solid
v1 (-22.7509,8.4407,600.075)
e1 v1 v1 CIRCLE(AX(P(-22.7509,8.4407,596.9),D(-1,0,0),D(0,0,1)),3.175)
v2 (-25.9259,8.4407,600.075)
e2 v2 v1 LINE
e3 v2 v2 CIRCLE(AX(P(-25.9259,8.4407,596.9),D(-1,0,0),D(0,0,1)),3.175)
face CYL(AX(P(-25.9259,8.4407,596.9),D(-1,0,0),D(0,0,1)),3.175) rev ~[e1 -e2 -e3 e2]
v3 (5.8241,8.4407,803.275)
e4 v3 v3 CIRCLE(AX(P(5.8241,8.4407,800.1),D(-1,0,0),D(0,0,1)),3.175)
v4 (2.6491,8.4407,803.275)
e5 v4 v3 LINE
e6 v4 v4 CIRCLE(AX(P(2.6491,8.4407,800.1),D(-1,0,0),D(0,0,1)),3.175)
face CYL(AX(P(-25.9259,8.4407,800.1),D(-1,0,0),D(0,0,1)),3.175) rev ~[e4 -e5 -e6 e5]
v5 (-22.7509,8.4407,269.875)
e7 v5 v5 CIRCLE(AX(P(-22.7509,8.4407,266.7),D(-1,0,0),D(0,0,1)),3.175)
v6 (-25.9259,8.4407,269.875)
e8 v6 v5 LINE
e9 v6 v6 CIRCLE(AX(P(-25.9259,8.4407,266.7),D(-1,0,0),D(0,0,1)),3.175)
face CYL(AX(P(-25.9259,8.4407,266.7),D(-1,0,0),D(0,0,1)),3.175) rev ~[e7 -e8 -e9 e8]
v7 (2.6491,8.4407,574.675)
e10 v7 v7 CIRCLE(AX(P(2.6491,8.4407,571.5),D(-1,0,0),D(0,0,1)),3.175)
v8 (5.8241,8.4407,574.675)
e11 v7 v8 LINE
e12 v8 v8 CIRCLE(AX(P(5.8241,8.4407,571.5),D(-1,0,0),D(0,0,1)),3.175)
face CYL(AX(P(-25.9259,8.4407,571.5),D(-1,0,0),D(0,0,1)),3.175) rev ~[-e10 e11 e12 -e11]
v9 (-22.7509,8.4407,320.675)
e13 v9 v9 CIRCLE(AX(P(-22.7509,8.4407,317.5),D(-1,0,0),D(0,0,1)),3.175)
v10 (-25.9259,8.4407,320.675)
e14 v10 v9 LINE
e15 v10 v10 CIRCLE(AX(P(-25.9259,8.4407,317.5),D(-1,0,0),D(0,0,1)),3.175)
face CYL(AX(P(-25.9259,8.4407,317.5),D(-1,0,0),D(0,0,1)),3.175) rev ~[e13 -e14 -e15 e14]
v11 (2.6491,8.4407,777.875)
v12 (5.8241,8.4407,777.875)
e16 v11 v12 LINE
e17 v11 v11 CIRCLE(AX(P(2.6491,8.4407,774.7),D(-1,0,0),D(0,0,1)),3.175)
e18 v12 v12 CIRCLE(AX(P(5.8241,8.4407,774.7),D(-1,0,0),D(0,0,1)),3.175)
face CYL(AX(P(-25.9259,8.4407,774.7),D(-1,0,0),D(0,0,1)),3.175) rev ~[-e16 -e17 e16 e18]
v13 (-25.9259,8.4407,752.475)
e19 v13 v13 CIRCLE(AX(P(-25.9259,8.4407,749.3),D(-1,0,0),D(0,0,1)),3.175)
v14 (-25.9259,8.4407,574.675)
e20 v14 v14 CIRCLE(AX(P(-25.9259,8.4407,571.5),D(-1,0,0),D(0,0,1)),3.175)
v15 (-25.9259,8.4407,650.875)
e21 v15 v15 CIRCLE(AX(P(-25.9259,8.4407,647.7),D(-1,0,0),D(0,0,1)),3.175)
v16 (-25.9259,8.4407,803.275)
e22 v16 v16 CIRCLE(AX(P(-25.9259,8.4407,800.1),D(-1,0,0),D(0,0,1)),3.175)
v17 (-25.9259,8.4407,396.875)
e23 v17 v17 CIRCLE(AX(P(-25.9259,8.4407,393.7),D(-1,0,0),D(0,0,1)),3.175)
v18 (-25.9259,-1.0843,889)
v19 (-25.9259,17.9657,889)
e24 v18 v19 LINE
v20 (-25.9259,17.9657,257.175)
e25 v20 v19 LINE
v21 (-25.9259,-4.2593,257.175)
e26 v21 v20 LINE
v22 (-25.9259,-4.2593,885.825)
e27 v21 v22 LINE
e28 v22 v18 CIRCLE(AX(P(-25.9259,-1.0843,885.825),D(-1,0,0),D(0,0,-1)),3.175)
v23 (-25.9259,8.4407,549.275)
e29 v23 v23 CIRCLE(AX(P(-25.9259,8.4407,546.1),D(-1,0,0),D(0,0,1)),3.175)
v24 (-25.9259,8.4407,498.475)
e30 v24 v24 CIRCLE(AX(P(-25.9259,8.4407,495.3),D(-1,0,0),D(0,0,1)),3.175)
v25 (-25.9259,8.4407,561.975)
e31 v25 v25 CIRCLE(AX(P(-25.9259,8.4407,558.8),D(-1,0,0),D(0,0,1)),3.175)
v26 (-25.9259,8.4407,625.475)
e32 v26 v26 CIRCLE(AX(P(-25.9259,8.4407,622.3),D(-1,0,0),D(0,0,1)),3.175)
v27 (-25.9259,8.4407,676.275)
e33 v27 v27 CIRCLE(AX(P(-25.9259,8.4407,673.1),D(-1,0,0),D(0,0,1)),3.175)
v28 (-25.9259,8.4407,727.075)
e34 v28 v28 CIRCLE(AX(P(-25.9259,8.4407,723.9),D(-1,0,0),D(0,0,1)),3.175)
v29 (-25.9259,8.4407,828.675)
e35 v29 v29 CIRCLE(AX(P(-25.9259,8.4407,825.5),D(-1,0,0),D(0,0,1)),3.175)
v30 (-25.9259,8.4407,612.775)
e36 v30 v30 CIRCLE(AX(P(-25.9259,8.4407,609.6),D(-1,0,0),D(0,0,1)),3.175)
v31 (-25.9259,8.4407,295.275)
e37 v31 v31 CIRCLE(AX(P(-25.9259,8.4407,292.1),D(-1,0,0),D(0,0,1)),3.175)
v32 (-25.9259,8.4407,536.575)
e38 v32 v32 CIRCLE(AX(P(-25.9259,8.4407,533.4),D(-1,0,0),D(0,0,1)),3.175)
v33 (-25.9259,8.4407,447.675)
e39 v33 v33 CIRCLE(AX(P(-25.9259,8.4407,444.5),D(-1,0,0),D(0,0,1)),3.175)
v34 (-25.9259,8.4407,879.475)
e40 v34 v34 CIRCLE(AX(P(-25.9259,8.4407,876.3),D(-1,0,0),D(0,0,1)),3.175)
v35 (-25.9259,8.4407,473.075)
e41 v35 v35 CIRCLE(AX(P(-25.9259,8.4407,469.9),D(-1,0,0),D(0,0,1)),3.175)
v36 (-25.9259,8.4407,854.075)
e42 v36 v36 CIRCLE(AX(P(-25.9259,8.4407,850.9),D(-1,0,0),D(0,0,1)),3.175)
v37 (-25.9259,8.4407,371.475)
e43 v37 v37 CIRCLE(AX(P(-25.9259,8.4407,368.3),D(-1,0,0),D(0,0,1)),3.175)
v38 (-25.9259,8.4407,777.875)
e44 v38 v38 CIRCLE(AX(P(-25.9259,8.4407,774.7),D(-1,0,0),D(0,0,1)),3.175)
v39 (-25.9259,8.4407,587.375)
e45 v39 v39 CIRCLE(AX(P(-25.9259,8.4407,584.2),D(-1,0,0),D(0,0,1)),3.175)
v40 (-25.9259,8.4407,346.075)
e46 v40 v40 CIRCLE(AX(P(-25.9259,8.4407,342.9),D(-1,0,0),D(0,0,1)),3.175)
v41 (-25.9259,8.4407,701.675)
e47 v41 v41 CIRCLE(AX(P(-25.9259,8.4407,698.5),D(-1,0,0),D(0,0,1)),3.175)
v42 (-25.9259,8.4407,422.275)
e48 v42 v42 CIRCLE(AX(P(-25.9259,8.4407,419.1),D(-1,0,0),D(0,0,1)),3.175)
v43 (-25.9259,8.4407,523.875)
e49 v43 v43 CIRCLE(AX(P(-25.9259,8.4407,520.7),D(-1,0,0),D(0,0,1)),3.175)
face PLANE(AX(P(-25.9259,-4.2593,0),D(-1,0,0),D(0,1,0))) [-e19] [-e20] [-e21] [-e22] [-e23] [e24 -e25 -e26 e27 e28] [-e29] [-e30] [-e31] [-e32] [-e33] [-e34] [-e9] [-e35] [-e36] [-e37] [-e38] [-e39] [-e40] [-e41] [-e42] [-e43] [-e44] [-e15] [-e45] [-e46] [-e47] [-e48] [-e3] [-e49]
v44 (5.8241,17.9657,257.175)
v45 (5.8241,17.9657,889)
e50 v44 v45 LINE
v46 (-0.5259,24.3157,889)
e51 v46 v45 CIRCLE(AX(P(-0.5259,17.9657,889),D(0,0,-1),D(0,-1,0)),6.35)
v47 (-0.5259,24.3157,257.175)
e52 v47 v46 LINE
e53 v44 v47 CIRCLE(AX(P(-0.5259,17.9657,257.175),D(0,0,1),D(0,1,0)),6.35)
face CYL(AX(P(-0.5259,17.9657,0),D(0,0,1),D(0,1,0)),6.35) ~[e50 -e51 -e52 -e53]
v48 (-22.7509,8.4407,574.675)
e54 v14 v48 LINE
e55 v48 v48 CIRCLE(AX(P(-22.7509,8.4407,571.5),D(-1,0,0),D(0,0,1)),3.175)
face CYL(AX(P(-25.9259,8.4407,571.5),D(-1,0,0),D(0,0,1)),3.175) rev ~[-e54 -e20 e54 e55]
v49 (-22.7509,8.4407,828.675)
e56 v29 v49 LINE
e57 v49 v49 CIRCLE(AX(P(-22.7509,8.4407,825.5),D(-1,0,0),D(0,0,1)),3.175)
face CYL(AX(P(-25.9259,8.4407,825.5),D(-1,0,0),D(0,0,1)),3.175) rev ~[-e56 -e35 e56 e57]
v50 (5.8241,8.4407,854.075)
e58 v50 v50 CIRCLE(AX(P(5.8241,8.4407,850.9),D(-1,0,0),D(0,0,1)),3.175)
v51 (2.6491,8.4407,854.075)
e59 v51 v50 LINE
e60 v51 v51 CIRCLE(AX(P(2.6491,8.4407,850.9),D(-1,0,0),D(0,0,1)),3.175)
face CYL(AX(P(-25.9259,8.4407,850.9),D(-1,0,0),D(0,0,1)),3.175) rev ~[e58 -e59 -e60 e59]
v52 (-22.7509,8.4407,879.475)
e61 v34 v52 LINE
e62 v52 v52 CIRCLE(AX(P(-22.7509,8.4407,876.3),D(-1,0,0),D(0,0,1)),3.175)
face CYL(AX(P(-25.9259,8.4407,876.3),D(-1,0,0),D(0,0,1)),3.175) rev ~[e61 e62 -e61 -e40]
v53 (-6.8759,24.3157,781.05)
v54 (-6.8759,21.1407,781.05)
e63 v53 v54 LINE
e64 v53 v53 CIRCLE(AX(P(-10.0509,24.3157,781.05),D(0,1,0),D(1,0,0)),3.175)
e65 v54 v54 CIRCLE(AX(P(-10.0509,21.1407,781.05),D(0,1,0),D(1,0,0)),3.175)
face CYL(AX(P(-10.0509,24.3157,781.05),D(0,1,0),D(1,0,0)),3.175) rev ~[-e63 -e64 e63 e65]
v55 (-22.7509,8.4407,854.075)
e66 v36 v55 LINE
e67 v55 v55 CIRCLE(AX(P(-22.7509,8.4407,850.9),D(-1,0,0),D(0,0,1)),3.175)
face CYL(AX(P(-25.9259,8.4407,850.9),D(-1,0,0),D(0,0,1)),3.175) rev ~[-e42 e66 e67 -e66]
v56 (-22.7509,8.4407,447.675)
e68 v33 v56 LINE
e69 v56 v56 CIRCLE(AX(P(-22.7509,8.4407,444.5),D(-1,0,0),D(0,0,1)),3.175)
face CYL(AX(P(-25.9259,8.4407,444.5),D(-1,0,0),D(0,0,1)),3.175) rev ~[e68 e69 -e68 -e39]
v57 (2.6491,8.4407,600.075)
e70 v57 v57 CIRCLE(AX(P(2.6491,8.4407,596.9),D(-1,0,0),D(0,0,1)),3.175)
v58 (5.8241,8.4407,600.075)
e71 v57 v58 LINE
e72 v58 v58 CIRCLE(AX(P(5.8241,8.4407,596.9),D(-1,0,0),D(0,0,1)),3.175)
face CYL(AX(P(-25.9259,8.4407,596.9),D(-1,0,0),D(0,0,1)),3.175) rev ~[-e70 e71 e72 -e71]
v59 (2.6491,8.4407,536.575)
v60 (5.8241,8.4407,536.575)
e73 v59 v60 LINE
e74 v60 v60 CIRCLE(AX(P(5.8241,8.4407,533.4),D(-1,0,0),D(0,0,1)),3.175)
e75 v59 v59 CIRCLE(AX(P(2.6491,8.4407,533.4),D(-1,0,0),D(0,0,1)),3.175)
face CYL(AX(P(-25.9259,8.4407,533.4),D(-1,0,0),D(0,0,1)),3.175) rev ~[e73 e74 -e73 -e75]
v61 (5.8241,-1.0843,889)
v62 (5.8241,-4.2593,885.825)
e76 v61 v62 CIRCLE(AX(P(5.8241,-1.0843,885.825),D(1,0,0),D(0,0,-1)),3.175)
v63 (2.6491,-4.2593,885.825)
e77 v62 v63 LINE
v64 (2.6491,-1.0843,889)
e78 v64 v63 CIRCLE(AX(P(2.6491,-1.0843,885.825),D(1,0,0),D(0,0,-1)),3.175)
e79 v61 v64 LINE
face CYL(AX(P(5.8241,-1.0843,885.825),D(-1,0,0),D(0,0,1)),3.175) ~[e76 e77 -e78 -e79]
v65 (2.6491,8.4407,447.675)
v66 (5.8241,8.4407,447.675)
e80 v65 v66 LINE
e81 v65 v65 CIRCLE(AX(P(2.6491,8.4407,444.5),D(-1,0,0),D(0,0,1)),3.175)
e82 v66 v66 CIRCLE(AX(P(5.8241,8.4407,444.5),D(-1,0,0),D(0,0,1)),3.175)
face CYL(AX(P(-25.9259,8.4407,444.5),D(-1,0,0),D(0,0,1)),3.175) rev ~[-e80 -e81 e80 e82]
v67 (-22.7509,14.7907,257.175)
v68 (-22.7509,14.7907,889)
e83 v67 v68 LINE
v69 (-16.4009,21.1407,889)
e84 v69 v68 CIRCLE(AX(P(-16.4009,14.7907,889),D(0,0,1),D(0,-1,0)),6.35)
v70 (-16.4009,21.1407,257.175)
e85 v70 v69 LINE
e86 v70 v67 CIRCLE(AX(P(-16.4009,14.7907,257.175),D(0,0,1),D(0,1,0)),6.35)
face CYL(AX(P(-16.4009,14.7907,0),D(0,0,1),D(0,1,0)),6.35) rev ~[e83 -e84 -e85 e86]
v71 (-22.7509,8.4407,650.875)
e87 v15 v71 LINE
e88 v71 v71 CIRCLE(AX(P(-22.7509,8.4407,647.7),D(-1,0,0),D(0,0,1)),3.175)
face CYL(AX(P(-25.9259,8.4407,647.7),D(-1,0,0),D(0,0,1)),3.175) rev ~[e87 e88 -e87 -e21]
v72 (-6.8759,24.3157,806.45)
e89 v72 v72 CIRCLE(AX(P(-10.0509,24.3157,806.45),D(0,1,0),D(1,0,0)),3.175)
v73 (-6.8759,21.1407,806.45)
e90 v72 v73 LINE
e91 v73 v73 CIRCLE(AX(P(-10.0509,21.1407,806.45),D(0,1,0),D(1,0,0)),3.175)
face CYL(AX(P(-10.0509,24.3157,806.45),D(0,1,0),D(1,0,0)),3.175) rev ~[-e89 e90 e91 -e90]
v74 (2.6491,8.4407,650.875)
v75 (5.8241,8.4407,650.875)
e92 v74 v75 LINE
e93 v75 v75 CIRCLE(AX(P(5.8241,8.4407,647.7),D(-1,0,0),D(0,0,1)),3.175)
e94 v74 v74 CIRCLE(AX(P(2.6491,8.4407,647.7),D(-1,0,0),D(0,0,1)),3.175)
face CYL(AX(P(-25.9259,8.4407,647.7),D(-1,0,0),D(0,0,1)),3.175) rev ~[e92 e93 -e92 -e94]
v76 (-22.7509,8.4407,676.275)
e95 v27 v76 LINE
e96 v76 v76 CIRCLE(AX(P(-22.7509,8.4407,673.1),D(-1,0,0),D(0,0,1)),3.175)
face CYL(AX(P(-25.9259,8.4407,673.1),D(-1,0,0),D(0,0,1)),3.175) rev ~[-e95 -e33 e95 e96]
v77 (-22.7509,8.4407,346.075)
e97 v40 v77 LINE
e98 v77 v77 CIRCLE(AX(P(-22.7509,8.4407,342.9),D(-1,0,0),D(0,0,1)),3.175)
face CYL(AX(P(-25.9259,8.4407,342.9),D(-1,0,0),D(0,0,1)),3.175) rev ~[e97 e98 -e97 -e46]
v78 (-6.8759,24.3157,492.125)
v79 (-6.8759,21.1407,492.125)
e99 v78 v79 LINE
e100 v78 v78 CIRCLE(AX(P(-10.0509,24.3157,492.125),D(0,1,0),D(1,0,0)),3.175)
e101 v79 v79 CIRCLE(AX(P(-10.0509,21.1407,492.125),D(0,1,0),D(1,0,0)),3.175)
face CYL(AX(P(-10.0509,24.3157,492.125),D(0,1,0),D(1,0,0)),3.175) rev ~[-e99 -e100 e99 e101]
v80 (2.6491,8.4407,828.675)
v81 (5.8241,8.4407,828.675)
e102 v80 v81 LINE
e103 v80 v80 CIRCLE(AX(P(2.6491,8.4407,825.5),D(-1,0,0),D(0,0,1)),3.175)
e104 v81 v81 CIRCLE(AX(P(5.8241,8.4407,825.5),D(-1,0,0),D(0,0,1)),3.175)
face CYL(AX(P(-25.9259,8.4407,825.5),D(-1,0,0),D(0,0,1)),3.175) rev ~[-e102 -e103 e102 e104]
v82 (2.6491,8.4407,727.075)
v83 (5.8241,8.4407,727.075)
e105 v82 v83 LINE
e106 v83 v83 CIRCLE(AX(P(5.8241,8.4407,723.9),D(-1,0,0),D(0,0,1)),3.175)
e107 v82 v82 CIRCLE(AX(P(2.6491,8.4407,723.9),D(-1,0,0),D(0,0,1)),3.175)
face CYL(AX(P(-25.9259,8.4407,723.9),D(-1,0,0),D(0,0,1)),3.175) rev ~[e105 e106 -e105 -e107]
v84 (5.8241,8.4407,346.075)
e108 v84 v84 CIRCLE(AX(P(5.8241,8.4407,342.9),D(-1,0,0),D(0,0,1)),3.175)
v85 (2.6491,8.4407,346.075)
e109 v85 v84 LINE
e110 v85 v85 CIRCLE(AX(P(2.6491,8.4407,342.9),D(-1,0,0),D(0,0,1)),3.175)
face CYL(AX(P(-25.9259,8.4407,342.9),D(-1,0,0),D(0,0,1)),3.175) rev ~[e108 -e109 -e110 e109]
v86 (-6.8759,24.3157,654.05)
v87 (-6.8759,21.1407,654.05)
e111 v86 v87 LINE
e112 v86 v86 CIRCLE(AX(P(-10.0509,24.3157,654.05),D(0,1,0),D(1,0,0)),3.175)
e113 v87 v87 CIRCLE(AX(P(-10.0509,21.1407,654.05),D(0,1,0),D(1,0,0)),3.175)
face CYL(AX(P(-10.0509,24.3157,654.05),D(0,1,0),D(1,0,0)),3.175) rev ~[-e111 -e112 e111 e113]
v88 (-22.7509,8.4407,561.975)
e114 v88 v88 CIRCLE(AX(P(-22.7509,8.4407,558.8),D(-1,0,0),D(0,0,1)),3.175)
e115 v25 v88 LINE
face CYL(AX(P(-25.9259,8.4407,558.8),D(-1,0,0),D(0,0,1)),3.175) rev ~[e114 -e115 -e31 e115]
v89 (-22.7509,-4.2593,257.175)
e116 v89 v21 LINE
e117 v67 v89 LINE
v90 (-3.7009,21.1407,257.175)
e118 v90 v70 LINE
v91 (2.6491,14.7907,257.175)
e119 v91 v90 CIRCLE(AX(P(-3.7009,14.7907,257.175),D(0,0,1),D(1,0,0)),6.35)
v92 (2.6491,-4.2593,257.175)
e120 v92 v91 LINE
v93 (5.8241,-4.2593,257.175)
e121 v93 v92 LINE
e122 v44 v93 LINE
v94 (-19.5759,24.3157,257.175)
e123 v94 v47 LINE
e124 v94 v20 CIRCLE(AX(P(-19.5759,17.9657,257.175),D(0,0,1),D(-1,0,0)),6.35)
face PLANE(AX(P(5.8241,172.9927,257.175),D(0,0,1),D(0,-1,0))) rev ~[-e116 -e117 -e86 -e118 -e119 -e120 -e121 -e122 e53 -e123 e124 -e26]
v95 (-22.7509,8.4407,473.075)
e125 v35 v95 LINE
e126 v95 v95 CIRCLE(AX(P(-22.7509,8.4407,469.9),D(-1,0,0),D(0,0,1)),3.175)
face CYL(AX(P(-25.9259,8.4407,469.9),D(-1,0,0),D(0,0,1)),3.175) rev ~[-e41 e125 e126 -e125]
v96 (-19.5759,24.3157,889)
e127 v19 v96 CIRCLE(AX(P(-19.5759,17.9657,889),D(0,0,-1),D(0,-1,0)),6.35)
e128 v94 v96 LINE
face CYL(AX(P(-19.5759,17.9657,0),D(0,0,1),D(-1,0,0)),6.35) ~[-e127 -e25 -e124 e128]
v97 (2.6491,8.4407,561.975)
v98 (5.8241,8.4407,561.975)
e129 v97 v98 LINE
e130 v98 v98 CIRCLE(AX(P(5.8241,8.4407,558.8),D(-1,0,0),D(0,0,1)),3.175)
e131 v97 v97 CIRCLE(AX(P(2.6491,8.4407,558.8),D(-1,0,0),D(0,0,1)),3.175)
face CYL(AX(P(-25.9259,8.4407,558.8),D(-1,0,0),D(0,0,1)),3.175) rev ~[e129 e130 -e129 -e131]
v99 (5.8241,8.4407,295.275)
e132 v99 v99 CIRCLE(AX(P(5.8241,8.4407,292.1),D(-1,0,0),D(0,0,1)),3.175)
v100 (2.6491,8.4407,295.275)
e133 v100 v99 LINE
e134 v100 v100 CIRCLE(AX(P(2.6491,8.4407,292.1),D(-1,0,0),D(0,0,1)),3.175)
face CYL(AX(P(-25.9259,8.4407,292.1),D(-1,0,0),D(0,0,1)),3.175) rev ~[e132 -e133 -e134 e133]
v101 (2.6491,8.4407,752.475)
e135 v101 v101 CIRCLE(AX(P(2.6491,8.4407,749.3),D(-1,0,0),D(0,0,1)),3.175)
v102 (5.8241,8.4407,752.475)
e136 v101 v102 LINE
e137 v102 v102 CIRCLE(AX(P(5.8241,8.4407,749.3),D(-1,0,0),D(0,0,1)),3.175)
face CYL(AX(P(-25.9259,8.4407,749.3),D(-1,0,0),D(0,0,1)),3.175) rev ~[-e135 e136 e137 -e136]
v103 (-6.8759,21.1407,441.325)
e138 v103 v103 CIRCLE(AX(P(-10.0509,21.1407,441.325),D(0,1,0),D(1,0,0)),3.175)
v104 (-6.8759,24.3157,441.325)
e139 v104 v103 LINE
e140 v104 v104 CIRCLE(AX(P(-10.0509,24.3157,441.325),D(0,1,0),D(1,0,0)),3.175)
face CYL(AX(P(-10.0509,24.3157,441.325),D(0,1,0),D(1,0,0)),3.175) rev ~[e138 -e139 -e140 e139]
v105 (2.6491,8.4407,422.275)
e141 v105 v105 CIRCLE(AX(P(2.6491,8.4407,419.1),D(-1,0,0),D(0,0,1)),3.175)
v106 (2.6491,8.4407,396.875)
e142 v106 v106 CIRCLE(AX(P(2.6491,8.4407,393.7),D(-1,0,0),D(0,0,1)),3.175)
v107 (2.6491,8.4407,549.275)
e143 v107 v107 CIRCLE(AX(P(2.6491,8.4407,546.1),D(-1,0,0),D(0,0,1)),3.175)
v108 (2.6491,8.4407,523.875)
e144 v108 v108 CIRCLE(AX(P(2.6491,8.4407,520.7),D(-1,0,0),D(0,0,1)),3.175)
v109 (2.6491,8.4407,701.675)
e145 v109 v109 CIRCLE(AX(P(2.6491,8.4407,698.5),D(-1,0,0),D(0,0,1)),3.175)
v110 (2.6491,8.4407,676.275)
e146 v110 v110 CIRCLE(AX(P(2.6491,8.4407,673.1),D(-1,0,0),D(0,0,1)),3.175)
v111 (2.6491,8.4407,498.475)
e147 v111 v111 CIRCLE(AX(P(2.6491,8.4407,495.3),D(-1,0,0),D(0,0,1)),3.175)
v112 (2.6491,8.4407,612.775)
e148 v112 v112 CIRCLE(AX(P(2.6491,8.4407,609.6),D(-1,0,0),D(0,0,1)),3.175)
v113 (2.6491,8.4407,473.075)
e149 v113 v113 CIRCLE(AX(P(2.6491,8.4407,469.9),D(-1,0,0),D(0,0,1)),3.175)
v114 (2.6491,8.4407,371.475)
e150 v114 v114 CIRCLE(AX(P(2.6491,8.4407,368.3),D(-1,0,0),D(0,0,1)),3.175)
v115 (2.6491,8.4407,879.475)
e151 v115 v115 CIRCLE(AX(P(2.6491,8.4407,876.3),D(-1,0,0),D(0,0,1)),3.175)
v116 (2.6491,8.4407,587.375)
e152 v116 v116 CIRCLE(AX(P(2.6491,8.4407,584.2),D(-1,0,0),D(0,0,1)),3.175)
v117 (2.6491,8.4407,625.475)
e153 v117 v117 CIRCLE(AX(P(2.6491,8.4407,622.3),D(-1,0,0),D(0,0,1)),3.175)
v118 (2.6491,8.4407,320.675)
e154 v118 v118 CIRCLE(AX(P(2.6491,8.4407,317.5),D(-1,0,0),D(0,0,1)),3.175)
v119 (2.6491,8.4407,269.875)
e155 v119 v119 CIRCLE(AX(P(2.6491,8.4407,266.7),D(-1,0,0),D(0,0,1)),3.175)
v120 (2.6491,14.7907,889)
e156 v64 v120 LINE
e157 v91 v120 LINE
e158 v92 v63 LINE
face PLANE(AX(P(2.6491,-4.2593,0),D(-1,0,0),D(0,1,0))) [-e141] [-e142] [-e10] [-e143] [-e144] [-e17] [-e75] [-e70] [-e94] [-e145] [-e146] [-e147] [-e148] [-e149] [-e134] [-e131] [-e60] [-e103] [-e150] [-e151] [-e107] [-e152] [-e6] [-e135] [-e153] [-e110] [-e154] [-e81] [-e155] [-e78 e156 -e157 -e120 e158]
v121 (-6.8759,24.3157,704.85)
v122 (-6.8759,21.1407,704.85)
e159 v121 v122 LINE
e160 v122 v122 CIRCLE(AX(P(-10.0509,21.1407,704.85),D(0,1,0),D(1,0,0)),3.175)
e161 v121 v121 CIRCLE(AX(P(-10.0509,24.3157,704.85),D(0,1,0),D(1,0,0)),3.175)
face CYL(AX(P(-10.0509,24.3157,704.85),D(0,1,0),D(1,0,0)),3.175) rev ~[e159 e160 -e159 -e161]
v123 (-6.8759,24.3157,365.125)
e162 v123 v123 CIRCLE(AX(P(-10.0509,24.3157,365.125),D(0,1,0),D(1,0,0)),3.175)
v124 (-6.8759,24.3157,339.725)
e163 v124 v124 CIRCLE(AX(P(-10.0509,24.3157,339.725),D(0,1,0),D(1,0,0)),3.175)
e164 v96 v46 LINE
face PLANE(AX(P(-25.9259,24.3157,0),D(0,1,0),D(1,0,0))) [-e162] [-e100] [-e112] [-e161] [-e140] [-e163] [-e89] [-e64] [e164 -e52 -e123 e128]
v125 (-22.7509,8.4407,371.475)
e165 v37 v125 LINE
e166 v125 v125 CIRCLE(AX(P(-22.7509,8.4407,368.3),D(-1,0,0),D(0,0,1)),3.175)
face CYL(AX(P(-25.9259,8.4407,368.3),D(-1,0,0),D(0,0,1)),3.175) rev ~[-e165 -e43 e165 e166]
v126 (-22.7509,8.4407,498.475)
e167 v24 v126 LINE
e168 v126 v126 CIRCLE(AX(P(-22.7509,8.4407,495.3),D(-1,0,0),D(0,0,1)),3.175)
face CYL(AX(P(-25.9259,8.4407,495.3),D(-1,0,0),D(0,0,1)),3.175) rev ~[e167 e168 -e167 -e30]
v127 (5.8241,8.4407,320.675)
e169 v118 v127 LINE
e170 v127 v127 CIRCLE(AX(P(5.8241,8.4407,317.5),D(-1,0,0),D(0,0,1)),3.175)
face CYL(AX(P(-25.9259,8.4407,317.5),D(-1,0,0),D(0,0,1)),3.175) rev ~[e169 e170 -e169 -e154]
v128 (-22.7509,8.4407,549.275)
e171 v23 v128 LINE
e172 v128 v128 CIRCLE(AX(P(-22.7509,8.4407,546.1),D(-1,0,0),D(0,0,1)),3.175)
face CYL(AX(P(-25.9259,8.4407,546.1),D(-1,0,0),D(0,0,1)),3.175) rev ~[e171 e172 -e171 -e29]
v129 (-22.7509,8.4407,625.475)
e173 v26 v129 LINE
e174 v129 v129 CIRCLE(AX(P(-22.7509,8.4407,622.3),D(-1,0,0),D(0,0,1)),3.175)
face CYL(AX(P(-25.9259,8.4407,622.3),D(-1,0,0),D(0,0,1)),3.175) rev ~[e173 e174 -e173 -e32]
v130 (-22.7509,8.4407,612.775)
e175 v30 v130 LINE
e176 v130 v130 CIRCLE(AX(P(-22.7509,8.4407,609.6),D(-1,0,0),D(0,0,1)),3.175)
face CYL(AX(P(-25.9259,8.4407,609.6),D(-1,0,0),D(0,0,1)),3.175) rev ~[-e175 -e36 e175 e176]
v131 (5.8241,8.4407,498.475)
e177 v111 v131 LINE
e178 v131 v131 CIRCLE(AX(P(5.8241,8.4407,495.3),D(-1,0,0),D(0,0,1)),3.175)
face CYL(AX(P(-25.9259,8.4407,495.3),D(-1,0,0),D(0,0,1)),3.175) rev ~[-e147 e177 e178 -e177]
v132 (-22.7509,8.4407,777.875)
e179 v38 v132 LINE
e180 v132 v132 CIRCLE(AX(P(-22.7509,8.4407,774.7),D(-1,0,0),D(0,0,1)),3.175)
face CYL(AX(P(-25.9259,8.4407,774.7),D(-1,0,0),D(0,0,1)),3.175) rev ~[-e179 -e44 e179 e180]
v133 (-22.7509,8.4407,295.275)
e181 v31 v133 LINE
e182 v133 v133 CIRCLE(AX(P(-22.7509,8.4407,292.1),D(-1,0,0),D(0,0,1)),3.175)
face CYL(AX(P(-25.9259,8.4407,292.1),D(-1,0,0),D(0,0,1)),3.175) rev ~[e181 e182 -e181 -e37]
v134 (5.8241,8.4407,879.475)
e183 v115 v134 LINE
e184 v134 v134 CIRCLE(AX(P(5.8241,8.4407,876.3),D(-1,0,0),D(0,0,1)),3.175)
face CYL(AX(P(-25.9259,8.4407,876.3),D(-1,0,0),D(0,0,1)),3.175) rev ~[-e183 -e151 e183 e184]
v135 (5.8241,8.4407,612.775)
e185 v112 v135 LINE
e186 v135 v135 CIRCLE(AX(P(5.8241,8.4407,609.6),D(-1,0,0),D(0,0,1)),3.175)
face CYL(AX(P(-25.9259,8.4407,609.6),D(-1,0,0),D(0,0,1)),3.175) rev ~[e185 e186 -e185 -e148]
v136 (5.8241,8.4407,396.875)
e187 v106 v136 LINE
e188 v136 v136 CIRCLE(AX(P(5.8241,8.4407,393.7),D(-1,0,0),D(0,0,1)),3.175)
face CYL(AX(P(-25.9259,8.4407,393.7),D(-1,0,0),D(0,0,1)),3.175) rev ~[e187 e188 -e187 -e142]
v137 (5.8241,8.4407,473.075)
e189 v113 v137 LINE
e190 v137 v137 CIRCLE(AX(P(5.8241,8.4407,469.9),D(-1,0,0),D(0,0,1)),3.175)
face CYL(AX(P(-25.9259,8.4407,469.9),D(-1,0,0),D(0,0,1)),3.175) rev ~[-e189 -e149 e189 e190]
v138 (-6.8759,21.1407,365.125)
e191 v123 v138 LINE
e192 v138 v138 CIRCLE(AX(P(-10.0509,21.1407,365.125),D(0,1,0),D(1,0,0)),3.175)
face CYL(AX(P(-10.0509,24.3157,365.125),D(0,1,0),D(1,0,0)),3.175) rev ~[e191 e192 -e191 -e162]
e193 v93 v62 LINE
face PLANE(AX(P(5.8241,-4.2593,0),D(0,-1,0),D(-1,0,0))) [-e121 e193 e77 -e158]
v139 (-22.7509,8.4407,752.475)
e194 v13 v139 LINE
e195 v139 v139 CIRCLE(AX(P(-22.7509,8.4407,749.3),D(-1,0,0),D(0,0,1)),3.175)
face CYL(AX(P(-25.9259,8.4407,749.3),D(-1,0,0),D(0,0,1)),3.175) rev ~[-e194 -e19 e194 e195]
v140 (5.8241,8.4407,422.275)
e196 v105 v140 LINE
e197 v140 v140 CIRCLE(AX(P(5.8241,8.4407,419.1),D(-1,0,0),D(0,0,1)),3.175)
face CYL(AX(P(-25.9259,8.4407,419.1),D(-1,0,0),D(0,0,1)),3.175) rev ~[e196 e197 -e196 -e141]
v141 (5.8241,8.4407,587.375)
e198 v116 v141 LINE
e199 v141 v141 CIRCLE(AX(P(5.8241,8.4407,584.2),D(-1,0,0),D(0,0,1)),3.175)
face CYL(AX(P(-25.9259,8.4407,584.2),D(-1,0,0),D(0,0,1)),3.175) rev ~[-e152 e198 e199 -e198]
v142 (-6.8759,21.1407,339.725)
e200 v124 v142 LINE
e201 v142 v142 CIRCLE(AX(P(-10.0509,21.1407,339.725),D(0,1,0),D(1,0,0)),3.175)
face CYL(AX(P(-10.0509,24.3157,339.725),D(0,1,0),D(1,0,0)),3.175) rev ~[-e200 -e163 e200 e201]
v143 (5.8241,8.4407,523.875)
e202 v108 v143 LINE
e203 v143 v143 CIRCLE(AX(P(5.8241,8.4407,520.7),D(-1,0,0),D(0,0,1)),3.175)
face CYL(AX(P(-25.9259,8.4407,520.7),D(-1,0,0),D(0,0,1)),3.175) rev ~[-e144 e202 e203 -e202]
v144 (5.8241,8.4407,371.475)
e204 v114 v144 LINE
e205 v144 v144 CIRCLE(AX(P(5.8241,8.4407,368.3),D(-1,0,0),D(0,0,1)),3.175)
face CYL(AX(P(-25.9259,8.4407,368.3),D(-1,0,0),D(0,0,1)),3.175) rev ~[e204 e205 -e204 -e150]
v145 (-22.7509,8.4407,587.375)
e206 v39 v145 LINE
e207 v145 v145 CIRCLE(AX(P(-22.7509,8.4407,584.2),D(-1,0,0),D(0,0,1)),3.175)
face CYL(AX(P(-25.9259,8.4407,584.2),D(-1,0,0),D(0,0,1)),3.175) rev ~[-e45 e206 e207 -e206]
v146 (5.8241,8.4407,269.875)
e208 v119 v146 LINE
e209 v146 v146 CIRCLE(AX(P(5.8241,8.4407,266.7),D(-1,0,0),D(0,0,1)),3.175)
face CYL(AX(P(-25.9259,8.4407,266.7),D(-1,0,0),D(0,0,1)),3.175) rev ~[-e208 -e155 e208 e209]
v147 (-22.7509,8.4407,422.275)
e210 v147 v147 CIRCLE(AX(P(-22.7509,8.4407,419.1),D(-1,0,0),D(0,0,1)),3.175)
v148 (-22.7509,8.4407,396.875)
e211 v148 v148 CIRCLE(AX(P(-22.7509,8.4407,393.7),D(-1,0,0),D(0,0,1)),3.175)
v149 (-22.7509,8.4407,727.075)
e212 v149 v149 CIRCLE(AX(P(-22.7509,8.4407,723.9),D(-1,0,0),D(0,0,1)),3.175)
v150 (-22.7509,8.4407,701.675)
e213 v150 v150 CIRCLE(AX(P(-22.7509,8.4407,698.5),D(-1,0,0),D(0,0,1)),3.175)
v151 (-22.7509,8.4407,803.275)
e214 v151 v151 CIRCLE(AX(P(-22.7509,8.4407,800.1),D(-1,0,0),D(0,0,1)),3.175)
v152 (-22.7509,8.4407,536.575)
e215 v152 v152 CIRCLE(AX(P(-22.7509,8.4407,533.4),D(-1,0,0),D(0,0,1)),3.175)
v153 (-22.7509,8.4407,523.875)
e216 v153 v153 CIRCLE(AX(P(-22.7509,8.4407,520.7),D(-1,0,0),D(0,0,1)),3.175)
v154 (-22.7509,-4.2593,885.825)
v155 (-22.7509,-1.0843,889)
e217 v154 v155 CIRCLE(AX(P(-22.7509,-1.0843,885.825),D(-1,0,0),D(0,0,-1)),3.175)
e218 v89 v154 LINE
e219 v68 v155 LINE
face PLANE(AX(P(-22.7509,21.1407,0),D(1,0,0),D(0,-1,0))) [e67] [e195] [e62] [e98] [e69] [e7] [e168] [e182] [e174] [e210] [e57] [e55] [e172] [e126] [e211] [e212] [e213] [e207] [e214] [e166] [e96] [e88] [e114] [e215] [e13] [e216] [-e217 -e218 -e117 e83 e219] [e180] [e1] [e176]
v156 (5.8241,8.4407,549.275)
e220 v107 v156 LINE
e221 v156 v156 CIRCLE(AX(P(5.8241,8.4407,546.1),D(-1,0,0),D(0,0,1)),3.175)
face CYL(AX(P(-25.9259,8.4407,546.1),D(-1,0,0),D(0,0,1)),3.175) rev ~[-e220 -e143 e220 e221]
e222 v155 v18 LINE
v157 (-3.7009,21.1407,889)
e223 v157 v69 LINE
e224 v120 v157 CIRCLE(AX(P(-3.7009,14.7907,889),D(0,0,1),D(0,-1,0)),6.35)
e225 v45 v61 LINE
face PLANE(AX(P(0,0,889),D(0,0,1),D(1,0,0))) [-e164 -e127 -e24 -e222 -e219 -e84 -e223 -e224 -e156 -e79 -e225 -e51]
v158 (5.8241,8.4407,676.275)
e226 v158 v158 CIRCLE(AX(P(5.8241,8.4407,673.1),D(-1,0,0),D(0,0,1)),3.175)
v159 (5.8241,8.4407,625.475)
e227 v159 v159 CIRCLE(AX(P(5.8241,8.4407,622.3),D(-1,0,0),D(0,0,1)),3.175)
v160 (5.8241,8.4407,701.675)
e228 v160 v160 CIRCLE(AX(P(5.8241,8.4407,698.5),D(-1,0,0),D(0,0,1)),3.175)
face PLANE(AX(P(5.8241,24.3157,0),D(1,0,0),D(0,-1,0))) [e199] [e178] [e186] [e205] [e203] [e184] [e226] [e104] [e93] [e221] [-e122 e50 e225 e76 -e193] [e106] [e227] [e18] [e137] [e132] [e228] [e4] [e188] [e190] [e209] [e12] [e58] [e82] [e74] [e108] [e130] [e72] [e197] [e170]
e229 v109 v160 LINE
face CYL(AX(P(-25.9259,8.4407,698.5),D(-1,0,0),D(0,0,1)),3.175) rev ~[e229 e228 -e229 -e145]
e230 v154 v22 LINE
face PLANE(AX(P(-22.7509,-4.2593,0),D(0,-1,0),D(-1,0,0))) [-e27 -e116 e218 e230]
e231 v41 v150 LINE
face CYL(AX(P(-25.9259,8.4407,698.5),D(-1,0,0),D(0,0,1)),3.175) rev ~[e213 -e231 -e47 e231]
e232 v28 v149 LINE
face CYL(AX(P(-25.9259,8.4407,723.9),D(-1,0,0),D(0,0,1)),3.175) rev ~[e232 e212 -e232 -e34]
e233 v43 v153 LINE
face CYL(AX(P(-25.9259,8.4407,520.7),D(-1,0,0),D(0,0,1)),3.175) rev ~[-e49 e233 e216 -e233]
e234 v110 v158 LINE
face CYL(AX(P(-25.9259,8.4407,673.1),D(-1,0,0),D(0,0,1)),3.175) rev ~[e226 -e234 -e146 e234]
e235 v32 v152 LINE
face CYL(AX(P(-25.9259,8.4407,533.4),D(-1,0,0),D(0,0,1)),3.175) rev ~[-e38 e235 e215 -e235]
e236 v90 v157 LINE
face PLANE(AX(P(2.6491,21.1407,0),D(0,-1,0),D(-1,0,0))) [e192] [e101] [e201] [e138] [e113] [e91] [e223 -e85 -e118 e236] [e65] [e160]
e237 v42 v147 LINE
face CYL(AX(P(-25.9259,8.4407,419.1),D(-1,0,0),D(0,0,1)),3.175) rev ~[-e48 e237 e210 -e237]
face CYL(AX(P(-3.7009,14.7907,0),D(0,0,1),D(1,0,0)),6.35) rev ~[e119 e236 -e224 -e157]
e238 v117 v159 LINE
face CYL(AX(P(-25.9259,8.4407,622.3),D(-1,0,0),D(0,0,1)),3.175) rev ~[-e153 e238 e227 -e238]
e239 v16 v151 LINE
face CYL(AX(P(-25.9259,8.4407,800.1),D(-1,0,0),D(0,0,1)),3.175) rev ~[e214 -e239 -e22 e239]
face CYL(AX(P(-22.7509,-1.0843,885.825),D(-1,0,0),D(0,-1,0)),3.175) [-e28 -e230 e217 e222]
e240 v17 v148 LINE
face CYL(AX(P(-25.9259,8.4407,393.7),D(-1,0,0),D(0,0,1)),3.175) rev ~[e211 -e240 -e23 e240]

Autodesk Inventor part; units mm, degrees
ref_plane "YZ Plane" through (0, 0, 0) normal (1, 0, 0) x (0, 1, 0)
ref_plane "XZ Plane" through (0, 0, 0) normal (0, 1, 0) x (-1, 0, 0)
sketch "Sketch1" plane through (0, 0, 0) normal (0, 0, 1) x (1, 0, 0)
  line L0 (-25.9259, -4.2593) -> (-25.9259, 24.3157)
  line L1 (-25.9259, 24.3157) -> (5.8241, 24.3157)
  line L2 (5.8241, 24.3157) -> (5.8241, -4.2593)
  line L3 (5.8241, -4.2593) -> (2.6491, -4.2593)
  line L4 (2.6491, -4.2593) -> (2.6491, 21.1407)
  line L5 (2.6491, 21.1407) -> (-22.7509, 21.1407)
  line L6 (-22.7509, 21.1407) -> (-22.7509, -4.2593)
  line L7 (-22.7509, -4.2593) -> (-25.9259, -4.2593)
  dimension "d0" = 25.4
  dimension "d1" = 31.75
  dimension "d2" = 3.175
  dimension "d3" = 3.175
  dimension "d4" = 28.575
  dimension "d5" = 0
extrude "Extrusion1" add sketch "Sketch1" along normal blind 889
fillet "Fillet1" radius 6.35 4 edges at (-22.7509, 21.1407, 444.5) (-25.9259, 24.3157, 444.5) (5.8241, 24.3157, 444.5) (2.6491, 21.1407, 444.5)
fillet "Fillet2" radius 3.175 4 edges at (4.2366, -4.2593, 889) (-24.3384, -4.2593, 889) (-24.3384, -4.2593, 0) (4.2366, -4.2593, 0)
sketch "Sketch2" plane through (-25.9259, 17.9657, 0) normal (-1, 0, 0) x (0, 0, 1)
  line L0 (3.175, -22.225) -> (885.825, -22.225) projected
  line L1 (0, -19.05) -> (0, 0) projected
  circle A0 centre (12.7, -9.525) radius 3.175
  dimension "d10" = 6.35
  dimension "d11" = 12.7
  dimension "d12" = 12.7
extrude "Extrusion2" cut sketch "Sketch2" against normal through all
pattern_linear "Rectangular Pattern1" count 35 spacing 25.4 along (0, 0, 1) of "Extrusion2"
ref_plane "Work Plane2" through (67.878, 24.3157, 444.5) normal (0, 0, -1) x (-1, 0, 0)
sketch "Sketch6" plane through (5.8241, 17.9657, 889) normal (1, 0, 0) x (0, 0, -1)
  circle A0 centre (698.5, -9.525) radius 3.175 projected
  circle A1 centre (723.9, -9.525) radius 3.175 projected
  circle A2 centre (749.3, -9.525) radius 3.175 projected
  circle A3 centre (774.7, -9.525) radius 3.175 projected
  circle A4 centre (800.1, -9.525) radius 3.175 projected
  circle A5 centre (825.5, -9.525) radius 3.175 projected
  circle A6 centre (850.9, -9.525) radius 3.175 projected
  circle A7 centre (876.3, -9.525) radius 3.175 projected
  line L0 (976.9561, 155.027) -> (631.825, 155.027)
  line L1 (631.825, 155.027) -> (631.825, -109.3216)
  line L2 (631.825, -109.3216) -> (976.9561, -109.3216)
  line L3 (976.9561, -109.3216) -> (976.9561, 155.027)
  line L4 (0, 0) -> (0, -19.05) projected
  dimension "d54" = 631.825
extrude "Extrusion5" cut sketch "Sketch6" against normal through all
sketch "Sketch8" plane through (-19.5759, 24.3157, 889) normal (0, 1, 0) x (1, 0, 0)
  line L0 (19.05, 631.825) -> (0, 631.825) projected
  line L1 (0, 0) -> (19.05, 0) projected
  circle A0 centre (9.525, 82.55) radius 3.175
  circle A1 centre (9.525, 107.95) radius 3.175
  circle A2 centre (9.525, 184.15) radius 3.175
  circle A3 centre (9.525, 234.95) radius 3.175
  circle A4 centre (9.525, 549.275) radius 3.175
  circle A5 centre (9.525, 396.875) radius 3.175
  circle A6 centre (9.525, 523.875) radius 3.175
  circle A7 centre (9.525, 447.675) radius 3.175
  point P0 (19.5759, 889)
  point P1 (9.525, 0)
  dimension "d43" = 6.35
  dimension "d44" = 82.55
  dimension "d45" = 25.4
  dimension "d46" = 76.2
  dimension "d47" = 50.8
  dimension "d48" = 82.55
  dimension "d49" = 25.4
  dimension "d50" = 76.2
  dimension "d51" = 50.8
extrude "Extrusion7" cut sketch "Sketch8" along normal through all both and the other way through all
sketch "Sketch9" plane through (5.8241, -4.2593, 257.175) normal (0, -1, 0) x (1, 0, 0)
  line L0 (-3.175, 0) -> (0, 0) projected
  line L1 (0, 0) -> (0, 628.65) projected
  line L2 (-3.175, 628.65) -> (0, 628.65) projected
  line L3 (-3.175, 0) -> (-3.175, 628.65) projected
  line L4 (-31.75, 0) -> (-28.575, 0) projected
  line L5 (-28.575, 0) -> (-28.575, 628.65) projected
  line L6 (-31.75, 628.65) -> (-28.575, 628.65) projected
  line L7 (-31.75, 0) -> (-31.75, 628.65) projected
  point P0 (-5.8241, -257.175)
sketch "Sketch10" plane through (-25.9259, -1.0843, 889) normal (-1, 0, 0) x (0, 0, 1)
  circle A0 centre (-304.8, 9.525) radius 3.175 projected
  circle A1 centre (-330.2, 9.525) radius 3.175 projected
  circle A2 centre (-304.8, 9.525) radius 3.175
  circle A3 centre (-330.2, 9.525) radius 3.175
  circle A4 centre (-279.4, 9.525) radius 3.175
  circle A5 centre (-355.6, 9.525) radius 3.175
  point P0 (-889, 1.0843)
  dimension "d55" = 6.35
  dimension "d56" = 6.35
  dimension "d57" = 25.4
  dimension "d58" = 50.8
extrude "Extrusion8" cut sketch "Sketch10" against normal blind 38.1
sketch "Sketch11" plane through (0, 0, 889) normal (0, 0, 1) x (1, 0, 0)
  line L0 (-22.7509, -1.0843) -> (-25.9259, -1.0843) projected
  line L1 (-22.7509, 14.7907) -> (-22.7509, -1.0843) projected
  arc A0 (-16.4009, 21.1407) -> (-22.7509, 14.7907) centre (-16.4009, 14.7907) ccw projected
  line L2 (-3.7009, 21.1407) -> (-16.4009, 21.1407) projected
  arc A1 (2.6491, 14.7907) -> (-3.7009, 21.1407) centre (-3.7009, 14.7907) ccw projected
  line L3 (2.6491, -1.0843) -> (2.6491, 14.7907) projected
  line L4 (5.8241, -1.0843) -> (2.6491, -1.0843) projected
  line L5 (5.8241, 17.9657) -> (5.8241, -1.0843) projected
  arc A2 (5.8241, 17.9657) -> (-0.5259, 24.3157) centre (-0.5259, 17.9657) ccw projected
  line L6 (-19.5759, 24.3157) -> (-0.5259, 24.3157) projected
  arc A3 (-19.5759, 24.3157) -> (-25.9259, 17.9657) centre (-19.5759, 17.9657) ccw projected
  line L7 (-25.9259, -1.0843) -> (-25.9259, 17.9657) projected
  line L8 (-25.9259, -4.2593) -> (-22.7509, -4.2593) projected
  line L9 (2.6491, -4.2593) -> (5.8241, -4.2593) projected
  line L10 (-90.542, -90.1503) -> (-1.8937, -1.502)
  line L11 (-25.9259, 17.9657) -> (-25.9259, -25.5343)
  line L12 (4.9313, -8.327) -> (-83.0857, -96.3441)
  line L13 (-25.9259, 17.9657) -> (-25.9259, -39.1843)
  line L14 (-19.5759, 24.3157) -> (-31.8681, 24.3157)
  line L15 (-25.9259, 24.3157) -> (-25.9259, -39.1843)
  point P0 (0, 0)
  dimension "d61" = 49.85
  dimension "d62" = 63.5
properties part number "C Channel 2 1764"
